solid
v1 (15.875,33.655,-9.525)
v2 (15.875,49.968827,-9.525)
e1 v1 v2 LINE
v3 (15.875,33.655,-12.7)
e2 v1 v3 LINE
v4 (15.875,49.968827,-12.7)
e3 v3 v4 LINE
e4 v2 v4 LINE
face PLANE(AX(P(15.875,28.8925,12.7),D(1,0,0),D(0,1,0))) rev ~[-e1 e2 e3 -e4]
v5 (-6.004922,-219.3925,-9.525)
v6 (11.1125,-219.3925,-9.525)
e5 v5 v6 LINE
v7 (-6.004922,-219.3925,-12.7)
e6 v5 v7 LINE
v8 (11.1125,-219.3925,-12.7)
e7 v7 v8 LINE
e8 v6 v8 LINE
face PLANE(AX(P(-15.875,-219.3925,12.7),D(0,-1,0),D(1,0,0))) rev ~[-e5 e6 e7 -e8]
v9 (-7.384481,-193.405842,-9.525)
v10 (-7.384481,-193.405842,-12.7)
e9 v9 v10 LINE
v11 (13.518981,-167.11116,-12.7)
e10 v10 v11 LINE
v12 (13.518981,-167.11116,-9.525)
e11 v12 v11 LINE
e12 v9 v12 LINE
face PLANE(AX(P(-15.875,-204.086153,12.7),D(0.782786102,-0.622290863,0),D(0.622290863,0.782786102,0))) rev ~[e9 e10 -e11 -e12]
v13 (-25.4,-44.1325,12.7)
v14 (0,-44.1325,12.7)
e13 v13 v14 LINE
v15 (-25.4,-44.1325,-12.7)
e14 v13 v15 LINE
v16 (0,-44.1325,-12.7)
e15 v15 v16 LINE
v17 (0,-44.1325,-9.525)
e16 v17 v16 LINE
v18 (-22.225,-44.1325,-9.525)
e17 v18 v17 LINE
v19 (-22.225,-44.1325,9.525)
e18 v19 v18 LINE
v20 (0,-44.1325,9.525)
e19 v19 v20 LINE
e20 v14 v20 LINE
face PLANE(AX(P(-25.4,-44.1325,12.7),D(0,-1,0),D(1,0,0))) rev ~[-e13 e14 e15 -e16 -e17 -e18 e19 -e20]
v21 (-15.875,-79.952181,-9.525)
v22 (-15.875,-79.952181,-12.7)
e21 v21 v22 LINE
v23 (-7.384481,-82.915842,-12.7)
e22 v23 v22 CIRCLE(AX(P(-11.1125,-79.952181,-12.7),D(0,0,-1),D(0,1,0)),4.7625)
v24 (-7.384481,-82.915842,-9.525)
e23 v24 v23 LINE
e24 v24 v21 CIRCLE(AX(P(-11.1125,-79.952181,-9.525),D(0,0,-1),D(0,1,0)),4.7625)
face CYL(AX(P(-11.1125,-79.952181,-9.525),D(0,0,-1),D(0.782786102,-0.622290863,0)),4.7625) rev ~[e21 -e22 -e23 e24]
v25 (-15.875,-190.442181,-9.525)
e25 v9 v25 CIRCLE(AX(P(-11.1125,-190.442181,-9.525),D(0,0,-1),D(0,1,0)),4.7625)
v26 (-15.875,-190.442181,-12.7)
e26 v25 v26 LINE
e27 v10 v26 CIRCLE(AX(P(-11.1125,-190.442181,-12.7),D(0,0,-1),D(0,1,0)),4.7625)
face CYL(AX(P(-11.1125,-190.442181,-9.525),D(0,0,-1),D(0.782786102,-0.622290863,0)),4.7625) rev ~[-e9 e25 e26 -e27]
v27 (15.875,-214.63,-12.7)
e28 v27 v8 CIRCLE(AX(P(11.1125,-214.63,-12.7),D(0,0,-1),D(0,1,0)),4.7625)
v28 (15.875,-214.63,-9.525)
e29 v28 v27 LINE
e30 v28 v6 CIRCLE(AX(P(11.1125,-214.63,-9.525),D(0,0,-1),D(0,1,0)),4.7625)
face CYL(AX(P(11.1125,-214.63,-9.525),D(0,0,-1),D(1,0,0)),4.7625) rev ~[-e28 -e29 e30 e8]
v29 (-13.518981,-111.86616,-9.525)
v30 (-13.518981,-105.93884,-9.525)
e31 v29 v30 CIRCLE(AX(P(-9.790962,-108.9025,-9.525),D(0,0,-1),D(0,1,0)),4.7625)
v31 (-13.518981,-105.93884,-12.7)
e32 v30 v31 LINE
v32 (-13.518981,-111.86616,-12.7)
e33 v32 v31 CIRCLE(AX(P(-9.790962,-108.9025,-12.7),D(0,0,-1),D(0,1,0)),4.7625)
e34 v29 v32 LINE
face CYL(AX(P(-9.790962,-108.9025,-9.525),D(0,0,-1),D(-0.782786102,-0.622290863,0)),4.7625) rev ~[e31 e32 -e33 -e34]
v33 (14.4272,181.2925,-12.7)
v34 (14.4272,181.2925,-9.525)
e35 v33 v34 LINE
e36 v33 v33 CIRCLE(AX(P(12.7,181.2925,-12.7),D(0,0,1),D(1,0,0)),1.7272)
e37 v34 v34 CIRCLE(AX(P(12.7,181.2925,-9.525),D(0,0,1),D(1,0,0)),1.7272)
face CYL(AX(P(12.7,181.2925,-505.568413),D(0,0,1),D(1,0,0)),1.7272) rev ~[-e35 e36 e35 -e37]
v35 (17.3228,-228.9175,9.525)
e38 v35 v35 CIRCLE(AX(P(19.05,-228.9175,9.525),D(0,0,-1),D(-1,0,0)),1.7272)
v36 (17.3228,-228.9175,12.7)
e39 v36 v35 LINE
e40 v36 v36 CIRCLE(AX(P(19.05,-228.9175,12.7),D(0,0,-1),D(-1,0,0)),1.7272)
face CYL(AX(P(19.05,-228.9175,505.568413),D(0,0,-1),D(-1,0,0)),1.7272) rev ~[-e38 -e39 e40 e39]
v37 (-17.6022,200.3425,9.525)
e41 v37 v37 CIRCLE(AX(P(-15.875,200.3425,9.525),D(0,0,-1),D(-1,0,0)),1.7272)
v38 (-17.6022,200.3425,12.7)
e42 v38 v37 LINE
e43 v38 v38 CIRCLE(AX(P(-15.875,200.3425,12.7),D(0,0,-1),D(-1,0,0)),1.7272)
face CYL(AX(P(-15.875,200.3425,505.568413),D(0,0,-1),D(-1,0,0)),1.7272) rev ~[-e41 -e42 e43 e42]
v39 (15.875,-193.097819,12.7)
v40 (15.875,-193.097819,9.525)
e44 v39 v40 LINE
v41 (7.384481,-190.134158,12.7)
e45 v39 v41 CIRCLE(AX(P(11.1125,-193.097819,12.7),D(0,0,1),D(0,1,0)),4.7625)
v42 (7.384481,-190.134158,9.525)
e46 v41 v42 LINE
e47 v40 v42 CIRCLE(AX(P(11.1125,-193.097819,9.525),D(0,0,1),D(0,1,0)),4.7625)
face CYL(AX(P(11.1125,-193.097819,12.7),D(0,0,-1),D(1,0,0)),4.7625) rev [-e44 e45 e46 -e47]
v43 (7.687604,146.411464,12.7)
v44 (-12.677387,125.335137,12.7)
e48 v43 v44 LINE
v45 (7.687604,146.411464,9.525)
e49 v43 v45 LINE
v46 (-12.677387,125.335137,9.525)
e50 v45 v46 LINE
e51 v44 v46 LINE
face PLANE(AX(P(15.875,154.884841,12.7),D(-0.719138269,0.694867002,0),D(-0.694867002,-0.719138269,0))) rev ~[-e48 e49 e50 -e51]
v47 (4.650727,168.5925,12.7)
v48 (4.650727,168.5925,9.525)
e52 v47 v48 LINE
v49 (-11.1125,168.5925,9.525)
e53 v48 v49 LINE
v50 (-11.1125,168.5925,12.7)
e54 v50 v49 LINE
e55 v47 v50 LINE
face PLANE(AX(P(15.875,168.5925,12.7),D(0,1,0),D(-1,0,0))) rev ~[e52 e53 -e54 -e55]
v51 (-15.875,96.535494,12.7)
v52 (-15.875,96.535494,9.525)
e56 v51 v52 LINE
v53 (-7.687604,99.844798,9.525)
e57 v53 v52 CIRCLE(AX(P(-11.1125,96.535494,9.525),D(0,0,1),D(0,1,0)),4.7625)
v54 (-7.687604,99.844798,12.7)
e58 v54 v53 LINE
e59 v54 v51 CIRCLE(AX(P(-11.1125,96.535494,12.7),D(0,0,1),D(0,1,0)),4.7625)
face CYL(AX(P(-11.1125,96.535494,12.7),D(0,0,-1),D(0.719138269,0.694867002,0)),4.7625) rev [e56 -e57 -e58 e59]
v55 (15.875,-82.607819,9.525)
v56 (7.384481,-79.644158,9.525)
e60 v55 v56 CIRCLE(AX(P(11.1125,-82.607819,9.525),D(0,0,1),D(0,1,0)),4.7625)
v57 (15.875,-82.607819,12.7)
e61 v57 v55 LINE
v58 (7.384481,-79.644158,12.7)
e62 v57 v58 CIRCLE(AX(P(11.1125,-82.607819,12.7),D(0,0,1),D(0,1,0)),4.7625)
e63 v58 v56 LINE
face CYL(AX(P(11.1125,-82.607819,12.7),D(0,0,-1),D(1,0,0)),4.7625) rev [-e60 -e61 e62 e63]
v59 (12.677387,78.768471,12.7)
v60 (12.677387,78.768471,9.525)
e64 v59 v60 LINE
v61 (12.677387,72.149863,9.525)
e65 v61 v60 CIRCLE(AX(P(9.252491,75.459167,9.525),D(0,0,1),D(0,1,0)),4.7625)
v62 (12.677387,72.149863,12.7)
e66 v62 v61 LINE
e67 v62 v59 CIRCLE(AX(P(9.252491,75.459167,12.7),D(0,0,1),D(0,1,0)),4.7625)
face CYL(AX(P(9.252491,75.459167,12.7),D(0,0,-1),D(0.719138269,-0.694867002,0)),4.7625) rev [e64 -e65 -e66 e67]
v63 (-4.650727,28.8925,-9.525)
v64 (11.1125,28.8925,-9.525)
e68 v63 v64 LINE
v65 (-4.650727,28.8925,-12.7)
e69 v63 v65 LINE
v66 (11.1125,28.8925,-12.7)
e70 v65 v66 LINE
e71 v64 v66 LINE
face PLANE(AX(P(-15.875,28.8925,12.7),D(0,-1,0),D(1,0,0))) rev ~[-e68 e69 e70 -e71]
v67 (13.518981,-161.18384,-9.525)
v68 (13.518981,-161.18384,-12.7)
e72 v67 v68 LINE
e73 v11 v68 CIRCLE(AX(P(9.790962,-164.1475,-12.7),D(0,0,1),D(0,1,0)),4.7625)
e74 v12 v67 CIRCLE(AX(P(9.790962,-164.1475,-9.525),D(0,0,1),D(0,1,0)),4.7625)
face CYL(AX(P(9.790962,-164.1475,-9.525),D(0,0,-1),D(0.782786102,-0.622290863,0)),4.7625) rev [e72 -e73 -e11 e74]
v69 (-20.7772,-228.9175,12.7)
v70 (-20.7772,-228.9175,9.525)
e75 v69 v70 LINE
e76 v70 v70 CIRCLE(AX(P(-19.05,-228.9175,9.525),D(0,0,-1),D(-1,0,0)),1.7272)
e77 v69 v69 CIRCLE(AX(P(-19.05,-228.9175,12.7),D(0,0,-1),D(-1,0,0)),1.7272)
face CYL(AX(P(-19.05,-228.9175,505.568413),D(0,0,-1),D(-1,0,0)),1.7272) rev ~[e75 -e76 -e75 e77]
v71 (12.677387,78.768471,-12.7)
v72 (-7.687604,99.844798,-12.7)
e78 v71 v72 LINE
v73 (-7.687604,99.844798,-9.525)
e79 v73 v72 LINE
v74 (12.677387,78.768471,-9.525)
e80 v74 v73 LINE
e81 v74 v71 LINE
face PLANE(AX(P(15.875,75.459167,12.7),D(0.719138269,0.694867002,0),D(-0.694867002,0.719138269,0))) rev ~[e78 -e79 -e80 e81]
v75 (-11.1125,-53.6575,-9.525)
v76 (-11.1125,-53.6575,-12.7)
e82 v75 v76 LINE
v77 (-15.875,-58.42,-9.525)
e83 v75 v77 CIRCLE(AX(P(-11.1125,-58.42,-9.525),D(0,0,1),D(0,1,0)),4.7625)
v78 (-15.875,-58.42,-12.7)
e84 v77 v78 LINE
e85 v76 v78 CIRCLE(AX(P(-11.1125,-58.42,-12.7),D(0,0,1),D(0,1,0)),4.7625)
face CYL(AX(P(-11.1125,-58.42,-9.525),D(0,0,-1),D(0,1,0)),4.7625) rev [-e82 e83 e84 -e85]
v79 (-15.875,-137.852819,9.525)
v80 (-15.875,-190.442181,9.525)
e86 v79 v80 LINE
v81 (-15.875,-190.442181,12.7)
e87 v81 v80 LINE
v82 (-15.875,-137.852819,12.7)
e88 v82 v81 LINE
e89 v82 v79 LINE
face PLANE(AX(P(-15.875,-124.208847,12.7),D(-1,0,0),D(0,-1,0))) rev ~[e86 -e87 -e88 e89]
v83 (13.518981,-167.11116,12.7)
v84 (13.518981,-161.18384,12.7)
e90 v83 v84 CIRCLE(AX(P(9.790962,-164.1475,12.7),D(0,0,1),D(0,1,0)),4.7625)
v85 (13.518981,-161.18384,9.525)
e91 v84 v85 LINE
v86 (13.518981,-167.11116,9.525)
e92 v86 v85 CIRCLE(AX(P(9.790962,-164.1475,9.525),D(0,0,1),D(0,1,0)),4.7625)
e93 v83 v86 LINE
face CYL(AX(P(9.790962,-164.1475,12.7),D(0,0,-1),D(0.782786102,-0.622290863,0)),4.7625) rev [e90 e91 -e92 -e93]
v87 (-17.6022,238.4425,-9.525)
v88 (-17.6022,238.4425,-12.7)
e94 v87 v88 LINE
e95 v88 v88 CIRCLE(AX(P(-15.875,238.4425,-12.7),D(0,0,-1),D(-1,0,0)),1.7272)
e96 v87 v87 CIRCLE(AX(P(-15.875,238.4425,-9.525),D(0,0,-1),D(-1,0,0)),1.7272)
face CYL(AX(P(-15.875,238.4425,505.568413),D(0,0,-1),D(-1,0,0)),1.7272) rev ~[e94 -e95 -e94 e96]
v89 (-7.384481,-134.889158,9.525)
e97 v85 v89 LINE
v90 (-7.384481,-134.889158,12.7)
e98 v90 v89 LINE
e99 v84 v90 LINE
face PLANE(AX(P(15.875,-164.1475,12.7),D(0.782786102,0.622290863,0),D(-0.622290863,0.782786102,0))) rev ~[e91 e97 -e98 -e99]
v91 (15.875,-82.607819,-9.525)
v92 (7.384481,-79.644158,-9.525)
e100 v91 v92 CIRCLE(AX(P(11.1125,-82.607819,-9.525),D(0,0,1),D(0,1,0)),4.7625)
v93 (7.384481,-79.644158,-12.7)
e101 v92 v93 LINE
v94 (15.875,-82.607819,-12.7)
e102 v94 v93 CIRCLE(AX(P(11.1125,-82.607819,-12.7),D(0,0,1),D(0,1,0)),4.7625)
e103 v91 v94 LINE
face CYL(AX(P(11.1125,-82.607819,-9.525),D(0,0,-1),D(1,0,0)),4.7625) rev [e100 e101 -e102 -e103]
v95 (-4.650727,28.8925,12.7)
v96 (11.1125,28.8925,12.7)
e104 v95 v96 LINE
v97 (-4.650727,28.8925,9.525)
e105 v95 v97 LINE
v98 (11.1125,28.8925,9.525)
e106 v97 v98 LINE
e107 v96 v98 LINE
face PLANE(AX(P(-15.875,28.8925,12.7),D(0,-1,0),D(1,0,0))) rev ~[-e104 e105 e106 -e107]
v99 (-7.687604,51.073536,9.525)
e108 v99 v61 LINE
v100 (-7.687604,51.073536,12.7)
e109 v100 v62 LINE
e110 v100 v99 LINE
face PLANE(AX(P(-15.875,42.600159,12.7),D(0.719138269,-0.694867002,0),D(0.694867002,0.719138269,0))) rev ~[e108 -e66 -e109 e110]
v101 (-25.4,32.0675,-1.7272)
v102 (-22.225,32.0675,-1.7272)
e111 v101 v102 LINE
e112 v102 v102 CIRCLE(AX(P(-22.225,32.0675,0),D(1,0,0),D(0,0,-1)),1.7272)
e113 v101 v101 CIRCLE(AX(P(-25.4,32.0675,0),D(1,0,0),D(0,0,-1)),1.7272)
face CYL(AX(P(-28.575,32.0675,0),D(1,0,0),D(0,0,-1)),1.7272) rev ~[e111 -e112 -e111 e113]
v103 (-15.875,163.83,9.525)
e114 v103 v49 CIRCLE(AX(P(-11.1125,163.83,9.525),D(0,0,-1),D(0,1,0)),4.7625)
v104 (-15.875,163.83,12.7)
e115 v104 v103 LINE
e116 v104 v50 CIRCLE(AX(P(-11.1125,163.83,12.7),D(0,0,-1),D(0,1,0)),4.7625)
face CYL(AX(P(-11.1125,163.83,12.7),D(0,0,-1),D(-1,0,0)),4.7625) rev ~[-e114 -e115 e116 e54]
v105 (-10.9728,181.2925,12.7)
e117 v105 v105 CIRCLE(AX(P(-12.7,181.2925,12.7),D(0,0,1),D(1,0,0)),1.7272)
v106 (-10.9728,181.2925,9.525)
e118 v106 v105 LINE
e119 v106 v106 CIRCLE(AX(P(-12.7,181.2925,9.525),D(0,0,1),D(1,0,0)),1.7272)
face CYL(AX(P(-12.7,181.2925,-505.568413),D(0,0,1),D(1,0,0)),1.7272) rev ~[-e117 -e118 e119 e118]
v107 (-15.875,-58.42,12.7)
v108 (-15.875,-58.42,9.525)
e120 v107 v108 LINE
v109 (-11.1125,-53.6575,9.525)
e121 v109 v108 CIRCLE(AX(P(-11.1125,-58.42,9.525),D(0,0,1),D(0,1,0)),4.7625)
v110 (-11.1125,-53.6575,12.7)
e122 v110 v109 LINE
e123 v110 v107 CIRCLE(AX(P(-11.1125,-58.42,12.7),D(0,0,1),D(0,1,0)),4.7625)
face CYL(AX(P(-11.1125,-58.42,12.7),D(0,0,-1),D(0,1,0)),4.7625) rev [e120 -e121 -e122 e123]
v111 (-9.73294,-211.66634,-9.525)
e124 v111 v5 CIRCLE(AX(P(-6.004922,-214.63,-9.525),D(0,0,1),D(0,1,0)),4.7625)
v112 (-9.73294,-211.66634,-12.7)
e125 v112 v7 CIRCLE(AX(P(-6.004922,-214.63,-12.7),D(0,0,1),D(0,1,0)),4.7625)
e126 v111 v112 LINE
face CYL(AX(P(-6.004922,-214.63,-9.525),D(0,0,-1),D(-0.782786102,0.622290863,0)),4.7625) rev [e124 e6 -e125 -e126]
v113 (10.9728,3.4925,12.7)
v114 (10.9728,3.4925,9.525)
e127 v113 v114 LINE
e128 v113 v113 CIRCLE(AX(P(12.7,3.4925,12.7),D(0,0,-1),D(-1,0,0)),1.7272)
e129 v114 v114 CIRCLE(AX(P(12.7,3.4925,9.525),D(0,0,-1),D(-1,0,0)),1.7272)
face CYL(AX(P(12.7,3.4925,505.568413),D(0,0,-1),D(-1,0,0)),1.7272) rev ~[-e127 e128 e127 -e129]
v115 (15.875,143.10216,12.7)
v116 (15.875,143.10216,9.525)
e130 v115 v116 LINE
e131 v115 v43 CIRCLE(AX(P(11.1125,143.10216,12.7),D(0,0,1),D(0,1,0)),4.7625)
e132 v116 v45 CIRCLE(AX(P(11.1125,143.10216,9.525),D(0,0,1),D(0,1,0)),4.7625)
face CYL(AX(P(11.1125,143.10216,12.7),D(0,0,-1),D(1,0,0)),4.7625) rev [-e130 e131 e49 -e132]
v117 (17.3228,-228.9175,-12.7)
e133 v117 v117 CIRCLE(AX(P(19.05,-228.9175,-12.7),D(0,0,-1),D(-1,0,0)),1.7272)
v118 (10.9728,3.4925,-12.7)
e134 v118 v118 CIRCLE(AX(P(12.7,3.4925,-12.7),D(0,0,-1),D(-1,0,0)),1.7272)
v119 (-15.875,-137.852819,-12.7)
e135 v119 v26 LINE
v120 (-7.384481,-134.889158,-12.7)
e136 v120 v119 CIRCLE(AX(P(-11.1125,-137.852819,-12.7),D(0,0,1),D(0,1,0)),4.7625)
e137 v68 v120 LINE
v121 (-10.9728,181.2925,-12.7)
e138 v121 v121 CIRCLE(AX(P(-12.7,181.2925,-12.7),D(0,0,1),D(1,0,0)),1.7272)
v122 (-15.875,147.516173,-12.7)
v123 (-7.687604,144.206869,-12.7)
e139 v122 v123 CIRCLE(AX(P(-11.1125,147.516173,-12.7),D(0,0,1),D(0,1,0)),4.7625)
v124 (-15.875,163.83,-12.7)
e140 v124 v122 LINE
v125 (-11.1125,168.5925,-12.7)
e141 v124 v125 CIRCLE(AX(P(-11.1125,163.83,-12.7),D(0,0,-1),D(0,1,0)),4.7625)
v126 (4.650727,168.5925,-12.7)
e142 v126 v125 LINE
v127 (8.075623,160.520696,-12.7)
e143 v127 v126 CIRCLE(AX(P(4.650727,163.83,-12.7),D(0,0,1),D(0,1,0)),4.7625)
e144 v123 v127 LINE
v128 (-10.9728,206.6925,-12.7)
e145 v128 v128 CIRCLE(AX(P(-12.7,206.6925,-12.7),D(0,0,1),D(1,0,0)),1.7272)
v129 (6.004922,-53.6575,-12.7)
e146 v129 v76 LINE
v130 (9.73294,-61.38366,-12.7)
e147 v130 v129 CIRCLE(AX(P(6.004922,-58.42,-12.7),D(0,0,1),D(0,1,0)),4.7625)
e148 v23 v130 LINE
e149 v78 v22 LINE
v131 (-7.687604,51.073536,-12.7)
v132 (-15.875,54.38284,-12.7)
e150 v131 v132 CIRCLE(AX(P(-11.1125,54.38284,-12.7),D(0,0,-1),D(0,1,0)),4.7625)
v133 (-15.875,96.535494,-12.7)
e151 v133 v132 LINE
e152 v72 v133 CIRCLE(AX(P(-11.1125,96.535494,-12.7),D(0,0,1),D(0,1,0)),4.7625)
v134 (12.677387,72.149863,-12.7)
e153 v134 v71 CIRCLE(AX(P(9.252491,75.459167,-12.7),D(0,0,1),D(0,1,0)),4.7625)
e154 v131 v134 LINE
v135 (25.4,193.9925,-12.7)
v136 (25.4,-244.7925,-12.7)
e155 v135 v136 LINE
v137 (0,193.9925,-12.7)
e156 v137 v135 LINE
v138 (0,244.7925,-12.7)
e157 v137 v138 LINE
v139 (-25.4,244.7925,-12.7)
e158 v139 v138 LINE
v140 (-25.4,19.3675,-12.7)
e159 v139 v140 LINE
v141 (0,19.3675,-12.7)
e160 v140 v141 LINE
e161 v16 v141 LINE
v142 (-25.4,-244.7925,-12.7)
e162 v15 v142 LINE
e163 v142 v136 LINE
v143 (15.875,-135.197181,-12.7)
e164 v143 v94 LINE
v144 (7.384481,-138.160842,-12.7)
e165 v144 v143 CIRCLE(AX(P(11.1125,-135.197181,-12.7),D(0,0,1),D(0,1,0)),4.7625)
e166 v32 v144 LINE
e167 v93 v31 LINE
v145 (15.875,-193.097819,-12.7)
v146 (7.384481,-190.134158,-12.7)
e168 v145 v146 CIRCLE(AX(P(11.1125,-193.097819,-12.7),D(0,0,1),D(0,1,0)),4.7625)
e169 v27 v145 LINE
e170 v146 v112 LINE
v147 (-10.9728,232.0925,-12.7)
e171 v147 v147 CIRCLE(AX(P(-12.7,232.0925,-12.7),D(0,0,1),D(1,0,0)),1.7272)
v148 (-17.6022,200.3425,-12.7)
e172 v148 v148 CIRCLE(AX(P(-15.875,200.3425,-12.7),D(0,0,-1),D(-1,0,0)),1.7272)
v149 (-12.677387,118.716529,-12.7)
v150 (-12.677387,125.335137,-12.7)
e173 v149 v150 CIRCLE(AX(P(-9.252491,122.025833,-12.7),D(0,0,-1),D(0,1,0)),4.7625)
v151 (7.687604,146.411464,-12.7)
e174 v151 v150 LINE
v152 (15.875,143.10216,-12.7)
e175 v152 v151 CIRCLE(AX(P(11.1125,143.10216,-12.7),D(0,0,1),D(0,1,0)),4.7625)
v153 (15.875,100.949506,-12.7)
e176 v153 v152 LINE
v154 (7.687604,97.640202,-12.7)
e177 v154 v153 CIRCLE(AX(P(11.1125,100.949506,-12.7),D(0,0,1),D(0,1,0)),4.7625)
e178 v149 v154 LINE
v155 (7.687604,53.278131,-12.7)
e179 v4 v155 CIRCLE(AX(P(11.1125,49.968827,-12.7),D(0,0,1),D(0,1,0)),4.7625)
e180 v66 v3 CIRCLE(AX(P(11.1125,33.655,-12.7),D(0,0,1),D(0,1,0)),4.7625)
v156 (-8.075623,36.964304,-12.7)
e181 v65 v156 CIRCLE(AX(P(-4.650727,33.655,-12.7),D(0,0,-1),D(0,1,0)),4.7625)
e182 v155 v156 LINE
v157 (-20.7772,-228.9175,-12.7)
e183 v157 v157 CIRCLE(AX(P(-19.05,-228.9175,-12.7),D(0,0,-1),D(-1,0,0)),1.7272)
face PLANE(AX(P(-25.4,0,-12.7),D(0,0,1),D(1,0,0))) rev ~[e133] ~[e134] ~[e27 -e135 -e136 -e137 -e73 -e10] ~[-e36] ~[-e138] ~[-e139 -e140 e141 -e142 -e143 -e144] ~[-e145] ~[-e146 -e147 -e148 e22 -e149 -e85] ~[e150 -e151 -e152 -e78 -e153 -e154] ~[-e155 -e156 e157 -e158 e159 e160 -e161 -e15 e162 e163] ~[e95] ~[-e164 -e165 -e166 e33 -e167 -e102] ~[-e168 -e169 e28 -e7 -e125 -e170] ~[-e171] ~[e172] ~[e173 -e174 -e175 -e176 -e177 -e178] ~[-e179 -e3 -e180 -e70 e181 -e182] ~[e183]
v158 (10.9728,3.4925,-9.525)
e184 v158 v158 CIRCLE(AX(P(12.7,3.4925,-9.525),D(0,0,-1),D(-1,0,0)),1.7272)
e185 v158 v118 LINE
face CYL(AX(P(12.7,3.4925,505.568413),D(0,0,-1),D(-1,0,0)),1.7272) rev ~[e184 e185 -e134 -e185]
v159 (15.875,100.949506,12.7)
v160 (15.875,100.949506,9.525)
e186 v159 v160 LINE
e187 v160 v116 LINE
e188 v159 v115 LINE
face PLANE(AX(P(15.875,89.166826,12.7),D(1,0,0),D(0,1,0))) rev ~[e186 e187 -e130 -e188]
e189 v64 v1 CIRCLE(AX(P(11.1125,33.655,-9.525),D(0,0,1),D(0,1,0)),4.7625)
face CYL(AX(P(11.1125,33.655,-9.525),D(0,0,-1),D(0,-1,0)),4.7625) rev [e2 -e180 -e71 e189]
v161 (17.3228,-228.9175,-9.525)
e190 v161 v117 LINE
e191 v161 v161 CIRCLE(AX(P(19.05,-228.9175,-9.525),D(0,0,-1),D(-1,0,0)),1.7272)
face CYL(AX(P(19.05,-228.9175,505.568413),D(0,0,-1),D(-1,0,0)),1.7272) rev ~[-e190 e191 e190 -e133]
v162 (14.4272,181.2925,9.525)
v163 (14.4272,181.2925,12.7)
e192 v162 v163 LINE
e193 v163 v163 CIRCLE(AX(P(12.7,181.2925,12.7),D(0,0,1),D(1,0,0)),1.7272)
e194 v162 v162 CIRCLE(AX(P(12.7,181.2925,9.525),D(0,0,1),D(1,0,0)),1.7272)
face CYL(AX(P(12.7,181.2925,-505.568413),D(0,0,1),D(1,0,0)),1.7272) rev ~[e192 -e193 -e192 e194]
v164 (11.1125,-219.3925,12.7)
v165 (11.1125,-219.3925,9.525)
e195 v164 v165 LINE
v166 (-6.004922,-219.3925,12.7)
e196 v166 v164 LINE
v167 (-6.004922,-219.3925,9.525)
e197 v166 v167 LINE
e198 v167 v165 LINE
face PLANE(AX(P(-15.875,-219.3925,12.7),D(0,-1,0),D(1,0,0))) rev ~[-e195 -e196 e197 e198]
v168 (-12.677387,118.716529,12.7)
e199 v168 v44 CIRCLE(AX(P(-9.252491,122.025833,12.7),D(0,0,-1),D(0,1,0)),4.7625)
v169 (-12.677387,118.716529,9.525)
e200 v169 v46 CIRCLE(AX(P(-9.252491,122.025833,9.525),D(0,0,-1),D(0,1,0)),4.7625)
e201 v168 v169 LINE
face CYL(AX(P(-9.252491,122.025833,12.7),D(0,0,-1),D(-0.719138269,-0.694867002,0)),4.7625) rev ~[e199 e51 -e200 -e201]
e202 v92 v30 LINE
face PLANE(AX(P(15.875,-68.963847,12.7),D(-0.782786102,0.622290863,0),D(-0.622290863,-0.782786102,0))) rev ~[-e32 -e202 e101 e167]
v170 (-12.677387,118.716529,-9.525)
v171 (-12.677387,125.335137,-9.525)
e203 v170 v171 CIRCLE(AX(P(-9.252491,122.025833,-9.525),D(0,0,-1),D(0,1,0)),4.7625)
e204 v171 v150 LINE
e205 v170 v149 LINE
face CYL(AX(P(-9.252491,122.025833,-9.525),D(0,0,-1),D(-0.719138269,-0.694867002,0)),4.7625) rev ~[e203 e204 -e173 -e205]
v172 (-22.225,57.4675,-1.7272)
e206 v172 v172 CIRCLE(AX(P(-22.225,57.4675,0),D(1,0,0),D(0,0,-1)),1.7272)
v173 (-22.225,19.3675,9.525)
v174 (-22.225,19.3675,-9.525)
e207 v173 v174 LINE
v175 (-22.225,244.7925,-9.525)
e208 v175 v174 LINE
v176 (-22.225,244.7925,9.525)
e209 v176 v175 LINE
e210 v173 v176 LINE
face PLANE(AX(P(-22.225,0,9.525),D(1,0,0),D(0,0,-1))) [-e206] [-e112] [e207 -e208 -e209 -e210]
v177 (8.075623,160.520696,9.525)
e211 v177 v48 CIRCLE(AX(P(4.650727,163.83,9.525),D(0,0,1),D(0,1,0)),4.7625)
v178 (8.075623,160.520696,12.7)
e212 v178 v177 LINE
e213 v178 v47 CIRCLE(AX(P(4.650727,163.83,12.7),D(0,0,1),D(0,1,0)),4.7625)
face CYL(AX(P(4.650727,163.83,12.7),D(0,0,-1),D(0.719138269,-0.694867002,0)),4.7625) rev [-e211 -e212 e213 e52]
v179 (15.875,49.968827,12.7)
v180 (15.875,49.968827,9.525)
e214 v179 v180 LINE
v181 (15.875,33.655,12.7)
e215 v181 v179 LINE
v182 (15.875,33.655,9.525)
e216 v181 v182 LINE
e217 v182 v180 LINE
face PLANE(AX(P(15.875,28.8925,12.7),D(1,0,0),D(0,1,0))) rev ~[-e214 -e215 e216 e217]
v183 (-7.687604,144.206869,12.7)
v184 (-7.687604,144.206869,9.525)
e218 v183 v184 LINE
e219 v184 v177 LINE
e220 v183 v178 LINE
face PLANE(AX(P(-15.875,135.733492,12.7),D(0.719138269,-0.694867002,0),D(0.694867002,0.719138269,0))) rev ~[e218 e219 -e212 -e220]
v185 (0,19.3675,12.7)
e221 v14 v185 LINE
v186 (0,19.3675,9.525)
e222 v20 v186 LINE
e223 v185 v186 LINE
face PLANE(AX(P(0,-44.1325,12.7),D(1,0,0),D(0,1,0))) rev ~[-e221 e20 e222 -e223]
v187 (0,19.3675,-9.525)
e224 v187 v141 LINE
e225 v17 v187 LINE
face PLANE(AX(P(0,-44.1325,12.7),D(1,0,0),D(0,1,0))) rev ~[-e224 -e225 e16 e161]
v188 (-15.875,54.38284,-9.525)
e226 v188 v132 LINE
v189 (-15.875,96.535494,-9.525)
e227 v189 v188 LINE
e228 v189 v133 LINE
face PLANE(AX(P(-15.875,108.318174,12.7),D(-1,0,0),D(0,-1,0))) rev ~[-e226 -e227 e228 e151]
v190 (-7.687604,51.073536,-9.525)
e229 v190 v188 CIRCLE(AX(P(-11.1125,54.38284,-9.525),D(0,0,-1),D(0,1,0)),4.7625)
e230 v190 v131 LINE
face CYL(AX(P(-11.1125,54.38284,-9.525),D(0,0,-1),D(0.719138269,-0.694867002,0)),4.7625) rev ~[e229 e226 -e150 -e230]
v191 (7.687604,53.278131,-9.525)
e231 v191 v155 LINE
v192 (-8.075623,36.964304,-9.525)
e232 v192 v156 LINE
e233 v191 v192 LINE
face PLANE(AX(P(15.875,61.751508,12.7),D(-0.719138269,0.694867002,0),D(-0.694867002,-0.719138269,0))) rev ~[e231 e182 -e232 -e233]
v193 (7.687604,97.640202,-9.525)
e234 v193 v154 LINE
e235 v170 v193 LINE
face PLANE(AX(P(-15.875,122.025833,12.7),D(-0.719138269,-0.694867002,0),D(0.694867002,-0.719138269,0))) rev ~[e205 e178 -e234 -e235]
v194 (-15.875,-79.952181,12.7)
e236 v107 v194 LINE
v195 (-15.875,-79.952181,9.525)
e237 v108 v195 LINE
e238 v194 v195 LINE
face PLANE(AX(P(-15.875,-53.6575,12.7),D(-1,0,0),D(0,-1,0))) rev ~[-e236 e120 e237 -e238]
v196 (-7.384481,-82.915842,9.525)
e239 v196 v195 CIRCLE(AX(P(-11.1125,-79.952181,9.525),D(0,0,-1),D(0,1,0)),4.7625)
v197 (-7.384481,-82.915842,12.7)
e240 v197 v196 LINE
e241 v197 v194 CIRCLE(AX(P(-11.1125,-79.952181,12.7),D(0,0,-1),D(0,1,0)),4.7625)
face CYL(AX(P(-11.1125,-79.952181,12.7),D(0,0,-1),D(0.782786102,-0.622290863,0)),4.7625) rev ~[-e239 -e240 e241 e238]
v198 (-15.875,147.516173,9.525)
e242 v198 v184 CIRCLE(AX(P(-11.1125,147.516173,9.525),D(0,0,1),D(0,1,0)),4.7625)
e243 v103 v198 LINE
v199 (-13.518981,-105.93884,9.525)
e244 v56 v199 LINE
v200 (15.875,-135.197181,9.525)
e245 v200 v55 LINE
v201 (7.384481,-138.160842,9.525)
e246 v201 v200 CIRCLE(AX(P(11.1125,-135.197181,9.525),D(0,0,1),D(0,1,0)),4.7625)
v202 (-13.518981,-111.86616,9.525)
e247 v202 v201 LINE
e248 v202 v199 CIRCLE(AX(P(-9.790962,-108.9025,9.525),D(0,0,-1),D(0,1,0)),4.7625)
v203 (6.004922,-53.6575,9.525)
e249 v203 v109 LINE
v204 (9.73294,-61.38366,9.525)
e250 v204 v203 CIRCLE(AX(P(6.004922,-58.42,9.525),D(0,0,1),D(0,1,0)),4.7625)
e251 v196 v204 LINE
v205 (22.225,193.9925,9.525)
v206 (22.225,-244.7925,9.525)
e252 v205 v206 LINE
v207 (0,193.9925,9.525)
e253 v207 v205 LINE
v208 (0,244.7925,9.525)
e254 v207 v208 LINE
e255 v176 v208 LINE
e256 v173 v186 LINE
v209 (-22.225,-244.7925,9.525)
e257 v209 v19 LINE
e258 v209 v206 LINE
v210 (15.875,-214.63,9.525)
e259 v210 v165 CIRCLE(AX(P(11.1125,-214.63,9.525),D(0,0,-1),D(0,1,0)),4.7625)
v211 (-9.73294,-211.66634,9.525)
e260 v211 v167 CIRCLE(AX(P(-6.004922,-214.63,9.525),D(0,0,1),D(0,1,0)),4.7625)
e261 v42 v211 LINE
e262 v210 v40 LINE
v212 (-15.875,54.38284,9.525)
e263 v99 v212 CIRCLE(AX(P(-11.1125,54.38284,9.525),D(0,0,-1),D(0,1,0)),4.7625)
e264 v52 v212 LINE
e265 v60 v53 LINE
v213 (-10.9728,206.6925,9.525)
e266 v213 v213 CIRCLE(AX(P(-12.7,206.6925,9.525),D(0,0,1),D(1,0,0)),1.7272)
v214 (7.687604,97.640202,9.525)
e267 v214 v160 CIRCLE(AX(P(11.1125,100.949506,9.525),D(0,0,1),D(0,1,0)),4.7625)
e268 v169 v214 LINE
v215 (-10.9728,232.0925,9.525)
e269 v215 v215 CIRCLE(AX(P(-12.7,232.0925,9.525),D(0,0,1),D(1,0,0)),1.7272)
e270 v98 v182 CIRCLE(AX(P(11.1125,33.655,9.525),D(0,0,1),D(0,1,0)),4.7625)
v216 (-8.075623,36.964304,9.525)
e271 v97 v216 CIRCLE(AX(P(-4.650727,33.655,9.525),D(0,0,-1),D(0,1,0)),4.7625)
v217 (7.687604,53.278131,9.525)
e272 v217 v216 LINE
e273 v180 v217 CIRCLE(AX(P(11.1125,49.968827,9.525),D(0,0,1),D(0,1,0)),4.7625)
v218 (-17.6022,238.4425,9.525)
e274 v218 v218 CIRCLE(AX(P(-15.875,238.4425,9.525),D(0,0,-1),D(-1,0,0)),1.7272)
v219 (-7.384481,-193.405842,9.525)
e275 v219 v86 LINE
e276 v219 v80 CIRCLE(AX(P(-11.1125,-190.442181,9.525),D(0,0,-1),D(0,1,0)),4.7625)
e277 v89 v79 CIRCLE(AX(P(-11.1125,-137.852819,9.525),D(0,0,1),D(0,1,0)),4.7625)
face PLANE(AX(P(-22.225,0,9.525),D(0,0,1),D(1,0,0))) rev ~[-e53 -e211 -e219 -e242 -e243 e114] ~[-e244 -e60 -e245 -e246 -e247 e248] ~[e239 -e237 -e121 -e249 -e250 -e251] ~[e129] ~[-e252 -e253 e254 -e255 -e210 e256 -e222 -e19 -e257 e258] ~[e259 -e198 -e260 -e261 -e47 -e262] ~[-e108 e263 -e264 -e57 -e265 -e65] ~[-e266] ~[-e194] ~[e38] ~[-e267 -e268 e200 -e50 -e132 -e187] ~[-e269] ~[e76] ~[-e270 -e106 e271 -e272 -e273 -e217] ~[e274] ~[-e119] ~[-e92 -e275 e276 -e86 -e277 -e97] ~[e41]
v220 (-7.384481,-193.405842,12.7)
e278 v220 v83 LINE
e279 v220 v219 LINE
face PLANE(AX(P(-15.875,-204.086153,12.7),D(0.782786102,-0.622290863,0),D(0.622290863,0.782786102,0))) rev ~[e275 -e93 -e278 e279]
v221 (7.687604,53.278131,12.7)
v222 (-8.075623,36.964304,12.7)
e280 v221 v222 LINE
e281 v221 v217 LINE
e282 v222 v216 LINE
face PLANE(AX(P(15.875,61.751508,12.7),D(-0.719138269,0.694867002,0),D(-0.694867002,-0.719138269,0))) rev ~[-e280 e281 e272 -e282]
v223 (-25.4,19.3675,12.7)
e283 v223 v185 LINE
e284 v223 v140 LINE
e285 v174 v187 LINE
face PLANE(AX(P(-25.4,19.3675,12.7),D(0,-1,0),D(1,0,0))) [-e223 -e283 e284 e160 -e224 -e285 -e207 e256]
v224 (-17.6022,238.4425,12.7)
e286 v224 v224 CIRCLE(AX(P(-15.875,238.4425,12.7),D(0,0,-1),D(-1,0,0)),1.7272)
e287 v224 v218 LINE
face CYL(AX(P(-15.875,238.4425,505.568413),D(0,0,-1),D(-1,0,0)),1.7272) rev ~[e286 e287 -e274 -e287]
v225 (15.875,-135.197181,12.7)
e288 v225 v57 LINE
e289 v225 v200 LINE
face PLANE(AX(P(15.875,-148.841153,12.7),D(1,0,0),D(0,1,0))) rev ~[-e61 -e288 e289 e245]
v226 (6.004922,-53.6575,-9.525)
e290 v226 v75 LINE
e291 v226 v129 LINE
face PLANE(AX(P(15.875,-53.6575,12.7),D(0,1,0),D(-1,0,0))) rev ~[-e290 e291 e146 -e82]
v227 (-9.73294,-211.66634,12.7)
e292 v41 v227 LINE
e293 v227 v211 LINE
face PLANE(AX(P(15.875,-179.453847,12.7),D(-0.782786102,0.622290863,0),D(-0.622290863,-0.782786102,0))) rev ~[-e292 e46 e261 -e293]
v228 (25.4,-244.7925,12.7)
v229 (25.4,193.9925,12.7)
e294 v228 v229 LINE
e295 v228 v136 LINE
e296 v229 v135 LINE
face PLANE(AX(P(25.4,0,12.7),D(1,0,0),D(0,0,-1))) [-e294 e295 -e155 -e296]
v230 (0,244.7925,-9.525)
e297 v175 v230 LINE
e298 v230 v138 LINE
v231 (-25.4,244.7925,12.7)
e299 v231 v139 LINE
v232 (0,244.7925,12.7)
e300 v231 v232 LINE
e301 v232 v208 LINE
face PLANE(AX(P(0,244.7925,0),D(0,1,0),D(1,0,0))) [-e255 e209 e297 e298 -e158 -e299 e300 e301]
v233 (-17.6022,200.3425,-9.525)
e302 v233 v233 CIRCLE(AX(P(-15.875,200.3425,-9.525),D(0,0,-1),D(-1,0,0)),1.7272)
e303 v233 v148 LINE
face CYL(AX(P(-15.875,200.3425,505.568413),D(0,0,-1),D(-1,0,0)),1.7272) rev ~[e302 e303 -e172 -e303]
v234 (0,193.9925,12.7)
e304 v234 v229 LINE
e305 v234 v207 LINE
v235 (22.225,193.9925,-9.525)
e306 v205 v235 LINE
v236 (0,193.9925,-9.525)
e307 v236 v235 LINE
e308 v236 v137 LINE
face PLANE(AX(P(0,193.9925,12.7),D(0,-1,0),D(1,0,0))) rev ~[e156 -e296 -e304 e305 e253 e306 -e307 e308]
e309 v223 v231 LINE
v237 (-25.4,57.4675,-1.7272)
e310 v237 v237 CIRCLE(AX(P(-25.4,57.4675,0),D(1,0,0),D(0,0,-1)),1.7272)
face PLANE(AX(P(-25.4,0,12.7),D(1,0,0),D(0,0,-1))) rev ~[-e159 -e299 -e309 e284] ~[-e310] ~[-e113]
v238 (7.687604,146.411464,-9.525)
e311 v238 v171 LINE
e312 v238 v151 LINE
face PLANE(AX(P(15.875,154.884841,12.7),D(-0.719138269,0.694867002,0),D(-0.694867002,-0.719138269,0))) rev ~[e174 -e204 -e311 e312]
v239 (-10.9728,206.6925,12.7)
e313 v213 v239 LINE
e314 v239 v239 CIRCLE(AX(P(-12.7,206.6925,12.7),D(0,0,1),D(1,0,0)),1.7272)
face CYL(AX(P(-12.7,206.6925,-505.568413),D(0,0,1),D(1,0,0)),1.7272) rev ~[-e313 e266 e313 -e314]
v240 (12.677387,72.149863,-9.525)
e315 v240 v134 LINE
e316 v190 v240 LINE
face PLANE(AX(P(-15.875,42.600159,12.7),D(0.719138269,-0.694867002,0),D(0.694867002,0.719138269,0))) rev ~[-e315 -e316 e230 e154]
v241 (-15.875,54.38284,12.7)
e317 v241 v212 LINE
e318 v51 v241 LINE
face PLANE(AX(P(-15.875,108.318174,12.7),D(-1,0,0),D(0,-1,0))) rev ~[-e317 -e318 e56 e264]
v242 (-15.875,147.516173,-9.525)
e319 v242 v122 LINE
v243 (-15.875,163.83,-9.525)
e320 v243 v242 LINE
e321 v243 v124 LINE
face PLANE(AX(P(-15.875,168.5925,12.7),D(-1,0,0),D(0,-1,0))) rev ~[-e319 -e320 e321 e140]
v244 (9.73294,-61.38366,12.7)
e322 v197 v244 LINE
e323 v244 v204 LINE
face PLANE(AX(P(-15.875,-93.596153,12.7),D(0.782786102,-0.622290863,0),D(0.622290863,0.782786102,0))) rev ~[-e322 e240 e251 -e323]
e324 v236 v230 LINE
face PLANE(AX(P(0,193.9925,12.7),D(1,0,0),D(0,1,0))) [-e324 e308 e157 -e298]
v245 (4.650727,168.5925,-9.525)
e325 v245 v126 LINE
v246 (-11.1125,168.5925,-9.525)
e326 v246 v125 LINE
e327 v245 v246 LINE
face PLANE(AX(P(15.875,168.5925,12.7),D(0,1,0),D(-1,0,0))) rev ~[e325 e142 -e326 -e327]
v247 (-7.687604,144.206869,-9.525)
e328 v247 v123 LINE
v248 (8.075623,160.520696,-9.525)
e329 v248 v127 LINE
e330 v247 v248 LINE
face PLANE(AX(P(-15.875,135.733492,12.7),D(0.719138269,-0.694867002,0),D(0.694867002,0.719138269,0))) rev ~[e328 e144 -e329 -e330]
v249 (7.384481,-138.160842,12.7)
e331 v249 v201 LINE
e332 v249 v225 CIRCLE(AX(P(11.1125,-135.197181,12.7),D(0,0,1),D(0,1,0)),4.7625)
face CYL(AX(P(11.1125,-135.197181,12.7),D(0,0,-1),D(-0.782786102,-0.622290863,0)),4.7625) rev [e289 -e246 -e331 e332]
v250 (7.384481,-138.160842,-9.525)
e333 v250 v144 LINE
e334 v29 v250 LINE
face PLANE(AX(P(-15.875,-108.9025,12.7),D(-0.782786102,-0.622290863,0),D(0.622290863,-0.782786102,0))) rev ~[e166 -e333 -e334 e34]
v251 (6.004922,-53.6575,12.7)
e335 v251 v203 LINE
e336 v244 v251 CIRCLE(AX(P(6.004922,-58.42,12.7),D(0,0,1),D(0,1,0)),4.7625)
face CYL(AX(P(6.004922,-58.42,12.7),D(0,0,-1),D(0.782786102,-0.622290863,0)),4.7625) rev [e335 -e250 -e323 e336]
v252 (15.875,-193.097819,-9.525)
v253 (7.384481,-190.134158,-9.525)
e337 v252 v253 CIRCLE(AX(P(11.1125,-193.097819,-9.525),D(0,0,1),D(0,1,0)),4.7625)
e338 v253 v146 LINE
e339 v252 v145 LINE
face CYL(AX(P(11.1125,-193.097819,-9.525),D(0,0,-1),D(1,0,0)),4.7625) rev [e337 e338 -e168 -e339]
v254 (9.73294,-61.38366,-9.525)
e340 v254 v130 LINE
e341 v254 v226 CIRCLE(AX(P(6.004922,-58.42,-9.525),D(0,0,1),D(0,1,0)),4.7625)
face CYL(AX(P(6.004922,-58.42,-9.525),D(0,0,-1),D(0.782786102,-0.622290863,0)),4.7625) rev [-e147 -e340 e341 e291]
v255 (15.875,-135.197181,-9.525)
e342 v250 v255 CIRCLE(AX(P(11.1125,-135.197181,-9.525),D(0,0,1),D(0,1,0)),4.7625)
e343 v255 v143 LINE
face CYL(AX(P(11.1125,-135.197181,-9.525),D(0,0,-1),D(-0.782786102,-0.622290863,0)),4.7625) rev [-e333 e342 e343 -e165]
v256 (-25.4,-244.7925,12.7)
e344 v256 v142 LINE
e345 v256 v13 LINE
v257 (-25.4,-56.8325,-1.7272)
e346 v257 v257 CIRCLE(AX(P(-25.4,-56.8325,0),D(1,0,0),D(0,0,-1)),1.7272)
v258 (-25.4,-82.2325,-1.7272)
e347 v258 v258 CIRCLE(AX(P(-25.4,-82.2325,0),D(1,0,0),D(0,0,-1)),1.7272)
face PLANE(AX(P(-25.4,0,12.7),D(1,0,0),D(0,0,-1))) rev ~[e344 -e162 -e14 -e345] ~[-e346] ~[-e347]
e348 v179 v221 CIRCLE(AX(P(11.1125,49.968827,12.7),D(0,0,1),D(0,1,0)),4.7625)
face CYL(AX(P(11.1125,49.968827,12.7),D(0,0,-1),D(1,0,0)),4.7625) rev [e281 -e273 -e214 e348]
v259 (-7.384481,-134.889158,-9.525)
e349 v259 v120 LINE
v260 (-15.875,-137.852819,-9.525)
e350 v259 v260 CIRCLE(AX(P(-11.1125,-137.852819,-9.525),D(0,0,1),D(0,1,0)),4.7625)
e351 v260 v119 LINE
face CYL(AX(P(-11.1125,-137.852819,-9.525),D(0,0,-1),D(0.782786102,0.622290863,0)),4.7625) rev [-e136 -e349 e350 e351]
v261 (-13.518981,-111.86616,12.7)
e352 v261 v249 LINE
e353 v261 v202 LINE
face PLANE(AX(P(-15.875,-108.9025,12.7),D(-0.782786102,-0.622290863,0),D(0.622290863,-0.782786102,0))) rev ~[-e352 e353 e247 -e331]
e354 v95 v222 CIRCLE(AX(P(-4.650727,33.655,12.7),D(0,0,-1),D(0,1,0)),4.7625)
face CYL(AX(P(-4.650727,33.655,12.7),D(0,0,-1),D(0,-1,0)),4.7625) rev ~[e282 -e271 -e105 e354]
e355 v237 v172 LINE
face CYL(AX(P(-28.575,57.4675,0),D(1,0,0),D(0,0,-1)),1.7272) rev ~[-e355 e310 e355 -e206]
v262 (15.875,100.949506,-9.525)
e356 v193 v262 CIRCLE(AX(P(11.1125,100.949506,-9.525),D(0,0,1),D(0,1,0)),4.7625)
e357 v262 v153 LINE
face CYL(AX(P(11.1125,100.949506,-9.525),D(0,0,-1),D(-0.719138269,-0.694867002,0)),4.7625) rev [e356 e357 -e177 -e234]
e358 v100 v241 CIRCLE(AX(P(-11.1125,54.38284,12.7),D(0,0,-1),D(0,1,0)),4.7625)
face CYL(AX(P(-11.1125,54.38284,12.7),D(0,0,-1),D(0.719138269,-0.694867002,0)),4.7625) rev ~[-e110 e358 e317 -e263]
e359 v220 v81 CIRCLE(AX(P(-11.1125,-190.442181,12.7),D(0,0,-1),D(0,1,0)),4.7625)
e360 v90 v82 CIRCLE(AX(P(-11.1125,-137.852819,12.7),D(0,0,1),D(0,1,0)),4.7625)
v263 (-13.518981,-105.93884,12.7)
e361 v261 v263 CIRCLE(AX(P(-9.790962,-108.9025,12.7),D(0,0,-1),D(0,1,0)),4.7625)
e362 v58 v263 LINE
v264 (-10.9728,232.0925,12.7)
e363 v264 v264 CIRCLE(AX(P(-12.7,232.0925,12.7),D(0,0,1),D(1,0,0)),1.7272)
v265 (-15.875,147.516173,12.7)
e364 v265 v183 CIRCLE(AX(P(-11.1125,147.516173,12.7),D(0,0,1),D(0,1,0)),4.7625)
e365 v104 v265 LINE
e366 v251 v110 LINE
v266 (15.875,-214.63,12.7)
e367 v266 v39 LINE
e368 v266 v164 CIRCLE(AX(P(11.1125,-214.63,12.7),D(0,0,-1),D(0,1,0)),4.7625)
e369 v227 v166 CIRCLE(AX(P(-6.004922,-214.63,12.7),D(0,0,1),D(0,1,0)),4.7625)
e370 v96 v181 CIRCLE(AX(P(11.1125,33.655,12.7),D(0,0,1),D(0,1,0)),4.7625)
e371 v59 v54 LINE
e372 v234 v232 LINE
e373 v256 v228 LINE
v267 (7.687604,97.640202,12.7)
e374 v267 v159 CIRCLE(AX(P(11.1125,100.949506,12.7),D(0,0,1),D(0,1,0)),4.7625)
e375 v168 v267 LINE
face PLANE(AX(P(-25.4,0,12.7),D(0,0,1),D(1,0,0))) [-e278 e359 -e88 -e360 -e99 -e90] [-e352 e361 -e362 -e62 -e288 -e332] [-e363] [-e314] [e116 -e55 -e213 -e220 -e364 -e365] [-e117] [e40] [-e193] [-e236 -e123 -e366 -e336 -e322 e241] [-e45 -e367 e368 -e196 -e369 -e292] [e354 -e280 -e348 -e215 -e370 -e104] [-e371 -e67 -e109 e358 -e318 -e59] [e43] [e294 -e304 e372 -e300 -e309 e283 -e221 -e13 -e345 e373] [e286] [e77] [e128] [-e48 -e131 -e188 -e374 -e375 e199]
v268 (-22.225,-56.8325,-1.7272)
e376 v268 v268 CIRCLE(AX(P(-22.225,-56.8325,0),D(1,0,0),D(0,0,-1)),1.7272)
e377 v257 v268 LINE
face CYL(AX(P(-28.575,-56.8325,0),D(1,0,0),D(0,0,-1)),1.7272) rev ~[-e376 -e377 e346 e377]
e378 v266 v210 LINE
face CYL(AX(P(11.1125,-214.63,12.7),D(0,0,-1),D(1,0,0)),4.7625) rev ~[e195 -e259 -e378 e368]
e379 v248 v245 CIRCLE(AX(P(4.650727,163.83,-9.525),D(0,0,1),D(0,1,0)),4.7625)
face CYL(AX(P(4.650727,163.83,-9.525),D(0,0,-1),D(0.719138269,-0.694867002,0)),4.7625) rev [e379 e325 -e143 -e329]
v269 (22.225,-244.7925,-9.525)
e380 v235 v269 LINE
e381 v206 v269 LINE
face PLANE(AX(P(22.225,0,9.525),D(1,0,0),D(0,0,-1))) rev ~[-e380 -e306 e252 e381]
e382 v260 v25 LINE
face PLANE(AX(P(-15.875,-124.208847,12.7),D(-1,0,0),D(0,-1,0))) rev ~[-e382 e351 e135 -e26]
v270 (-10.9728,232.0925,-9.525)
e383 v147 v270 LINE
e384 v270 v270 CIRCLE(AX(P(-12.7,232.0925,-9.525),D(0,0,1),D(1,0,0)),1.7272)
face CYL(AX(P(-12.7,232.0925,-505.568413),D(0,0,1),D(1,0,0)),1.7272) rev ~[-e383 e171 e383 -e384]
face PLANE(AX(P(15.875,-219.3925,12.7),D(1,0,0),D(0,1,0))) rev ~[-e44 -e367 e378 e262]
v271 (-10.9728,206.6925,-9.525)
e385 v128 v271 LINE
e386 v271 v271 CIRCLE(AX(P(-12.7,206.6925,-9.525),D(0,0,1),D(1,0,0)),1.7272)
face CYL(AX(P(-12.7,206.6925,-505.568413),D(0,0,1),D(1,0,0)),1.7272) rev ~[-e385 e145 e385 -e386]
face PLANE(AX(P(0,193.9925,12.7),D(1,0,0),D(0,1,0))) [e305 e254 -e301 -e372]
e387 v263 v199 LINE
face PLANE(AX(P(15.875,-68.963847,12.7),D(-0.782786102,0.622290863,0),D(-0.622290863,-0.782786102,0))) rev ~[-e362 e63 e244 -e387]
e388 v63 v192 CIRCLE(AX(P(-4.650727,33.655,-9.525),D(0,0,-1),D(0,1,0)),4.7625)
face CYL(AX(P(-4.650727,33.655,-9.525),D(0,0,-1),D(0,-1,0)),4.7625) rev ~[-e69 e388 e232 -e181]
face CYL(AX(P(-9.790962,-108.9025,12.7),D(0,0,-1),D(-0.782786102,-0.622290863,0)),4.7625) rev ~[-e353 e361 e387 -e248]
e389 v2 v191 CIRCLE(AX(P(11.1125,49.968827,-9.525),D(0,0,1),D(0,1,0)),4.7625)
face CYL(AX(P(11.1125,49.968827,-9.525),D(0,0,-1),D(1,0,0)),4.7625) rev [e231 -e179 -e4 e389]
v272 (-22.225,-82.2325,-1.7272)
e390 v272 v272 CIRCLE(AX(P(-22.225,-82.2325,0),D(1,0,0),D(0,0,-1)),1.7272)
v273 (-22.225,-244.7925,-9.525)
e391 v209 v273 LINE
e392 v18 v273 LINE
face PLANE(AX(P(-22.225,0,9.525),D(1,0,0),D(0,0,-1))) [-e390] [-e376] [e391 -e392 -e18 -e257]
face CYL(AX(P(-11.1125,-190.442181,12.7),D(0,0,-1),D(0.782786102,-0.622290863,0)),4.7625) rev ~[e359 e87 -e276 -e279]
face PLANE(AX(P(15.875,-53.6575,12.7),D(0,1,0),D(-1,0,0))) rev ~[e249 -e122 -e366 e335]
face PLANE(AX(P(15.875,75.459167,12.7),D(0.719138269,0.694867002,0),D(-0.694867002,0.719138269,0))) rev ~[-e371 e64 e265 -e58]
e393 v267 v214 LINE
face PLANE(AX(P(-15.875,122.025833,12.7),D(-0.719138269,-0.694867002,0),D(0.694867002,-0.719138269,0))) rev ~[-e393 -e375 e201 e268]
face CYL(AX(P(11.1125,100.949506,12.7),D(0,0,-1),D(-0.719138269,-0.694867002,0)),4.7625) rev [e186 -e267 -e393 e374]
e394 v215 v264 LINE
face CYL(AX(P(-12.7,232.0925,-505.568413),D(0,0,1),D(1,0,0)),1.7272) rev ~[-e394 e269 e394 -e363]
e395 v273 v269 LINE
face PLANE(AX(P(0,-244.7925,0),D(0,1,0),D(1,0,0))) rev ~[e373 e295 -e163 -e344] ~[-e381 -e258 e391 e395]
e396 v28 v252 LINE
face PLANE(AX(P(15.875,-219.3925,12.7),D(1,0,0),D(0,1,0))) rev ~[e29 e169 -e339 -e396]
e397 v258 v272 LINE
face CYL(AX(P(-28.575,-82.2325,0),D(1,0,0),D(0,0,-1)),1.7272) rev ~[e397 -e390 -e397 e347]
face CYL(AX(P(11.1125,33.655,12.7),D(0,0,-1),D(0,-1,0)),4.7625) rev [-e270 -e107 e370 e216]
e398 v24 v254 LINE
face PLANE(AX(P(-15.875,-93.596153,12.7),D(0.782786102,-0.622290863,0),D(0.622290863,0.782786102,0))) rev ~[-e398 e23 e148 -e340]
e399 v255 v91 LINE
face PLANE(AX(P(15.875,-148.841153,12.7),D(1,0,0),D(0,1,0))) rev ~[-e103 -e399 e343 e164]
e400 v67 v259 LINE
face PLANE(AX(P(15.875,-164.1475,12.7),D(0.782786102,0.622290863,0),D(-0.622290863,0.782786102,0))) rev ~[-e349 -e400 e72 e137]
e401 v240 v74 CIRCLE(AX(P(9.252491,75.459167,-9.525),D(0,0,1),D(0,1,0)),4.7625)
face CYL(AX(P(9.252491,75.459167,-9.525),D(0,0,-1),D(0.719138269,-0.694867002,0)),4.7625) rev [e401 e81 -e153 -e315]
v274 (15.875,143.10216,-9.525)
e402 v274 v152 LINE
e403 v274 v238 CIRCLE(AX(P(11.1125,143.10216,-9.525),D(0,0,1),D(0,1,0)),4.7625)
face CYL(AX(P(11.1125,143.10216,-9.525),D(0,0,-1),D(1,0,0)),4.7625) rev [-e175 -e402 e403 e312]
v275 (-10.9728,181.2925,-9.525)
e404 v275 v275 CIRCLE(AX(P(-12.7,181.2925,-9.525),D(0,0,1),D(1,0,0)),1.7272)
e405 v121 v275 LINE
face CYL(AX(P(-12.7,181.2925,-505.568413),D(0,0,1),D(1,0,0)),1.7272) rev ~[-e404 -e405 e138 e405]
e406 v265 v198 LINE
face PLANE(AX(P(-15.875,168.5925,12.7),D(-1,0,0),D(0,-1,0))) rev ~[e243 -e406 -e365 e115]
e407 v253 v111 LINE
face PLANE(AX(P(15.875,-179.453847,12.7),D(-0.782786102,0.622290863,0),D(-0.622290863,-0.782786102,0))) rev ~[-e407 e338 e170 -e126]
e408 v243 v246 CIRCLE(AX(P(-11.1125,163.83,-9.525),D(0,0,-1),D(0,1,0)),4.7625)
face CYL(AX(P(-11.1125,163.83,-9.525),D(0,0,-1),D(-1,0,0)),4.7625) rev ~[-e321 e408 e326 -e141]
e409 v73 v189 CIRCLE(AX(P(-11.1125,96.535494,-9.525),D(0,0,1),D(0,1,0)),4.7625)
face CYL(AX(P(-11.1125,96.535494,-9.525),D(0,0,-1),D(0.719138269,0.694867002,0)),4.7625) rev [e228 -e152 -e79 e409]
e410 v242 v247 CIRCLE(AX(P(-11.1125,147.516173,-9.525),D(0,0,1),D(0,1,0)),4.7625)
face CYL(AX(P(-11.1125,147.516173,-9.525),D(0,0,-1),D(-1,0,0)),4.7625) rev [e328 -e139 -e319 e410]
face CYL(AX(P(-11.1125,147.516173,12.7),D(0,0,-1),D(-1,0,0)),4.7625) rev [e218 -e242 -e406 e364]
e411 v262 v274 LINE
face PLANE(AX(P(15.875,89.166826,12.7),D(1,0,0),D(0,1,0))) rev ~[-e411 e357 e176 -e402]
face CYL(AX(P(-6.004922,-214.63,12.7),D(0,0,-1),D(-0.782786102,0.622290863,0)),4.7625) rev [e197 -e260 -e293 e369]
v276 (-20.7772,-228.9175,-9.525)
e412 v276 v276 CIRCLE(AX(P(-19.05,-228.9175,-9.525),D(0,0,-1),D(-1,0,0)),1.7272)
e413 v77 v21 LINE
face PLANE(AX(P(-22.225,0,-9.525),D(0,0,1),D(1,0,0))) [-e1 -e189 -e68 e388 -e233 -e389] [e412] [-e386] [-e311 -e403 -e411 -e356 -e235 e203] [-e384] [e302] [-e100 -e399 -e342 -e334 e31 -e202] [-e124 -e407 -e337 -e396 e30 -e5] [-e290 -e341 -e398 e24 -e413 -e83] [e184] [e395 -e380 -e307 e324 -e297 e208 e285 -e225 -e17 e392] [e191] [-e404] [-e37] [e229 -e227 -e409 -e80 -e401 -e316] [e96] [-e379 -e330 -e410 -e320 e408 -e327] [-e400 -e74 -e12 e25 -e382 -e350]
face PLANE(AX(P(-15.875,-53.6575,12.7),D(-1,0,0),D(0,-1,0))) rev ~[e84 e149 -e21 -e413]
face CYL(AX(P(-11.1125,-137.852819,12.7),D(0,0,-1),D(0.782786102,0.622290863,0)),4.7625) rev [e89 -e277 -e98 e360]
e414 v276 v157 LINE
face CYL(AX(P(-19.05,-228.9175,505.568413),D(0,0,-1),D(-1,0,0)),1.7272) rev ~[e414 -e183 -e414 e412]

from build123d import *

# Parameters (mm, degrees)
SKETCH1_W                 = 50.8
SKETCH1_H                 = 25.4
SKETCH1_W_2               = 44.45
SKETCH1_H_2               = 19.05
BOSS_EXTRUDE1_DEPTH       = 244.7925
SKETCH2_W                 = 25.4
SKETCH2_H                 = 50.8
CUT_EXTRUDE1_DEPTH        = 248.414001334
SKETCH3_W                 = 25.4
SKETCH3_H                 = 63.5
CUT_EXTRUDE2_DEPTH        = 248.414001334
F_8_32_TAPPED_HOLE1_D     = 3.4544
F_8_32_TAPPED_HOLE2_D     = 3.4544
CUT_EXTRUDE3_DEPTH        = 248.414001334
FILLET1_R                 = 4.7625
F_8_32_TAPPED_HOLE3_D     = 3.4544
F_8_32_TAPPED_HOLE4_D     = 3.4544
F_8_32_TAPPED_HOLE4_DEPTH = 3.175
F_8_32_TAPPED_HOLE5_D     = 3.4544


with BuildPart() as part:
    # Sketch1 → Boss-Extrude1 (new, symmetric)
    with BuildSketch(Plane(origin=(0, 0, 0), x_dir=(1, 0, 0), z_dir=(0, 1, 0))):
        Rectangle(SKETCH1_W, SKETCH1_H)
        Rectangle(SKETCH1_W_2, SKETCH1_H_2, mode=Mode.SUBTRACT)
    extrude(amount=BOSS_EXTRUDE1_DEPTH, both=True)

    # Sketch2 → Cut-Extrude1 (cut, through all)
    with BuildSketch(Plane.XY.offset(12.7)):
        with Locations((12.7, 219.3925)):
            Rectangle(SKETCH2_W, SKETCH2_H)
    extrude(amount=-CUT_EXTRUDE1_DEPTH, mode=Mode.SUBTRACT)

    # Sketch3 → Cut-Extrude2 (cut, through all)
    with BuildSketch(Plane.XY.offset(12.7)):
        with Locations((-12.7, -12.3825)):
            Rectangle(SKETCH3_W, SKETCH3_H)
    extrude(amount=-CUT_EXTRUDE2_DEPTH, mode=Mode.SUBTRACT)

    # #8-32 Tapped Hole1 (through all)
    with Locations(Plane(origin=(0, 0, -12.7), x_dir=(-1, 0, 0), z_dir=(0, 0, -1))):
        with Locations((12.7, 232.0925), (12.7, 206.6925), (12.7, 181.2925), (-12.7, 181.2925)):
            Hole(F_8_32_TAPPED_HOLE1_D / 2)

    # #8-32 Tapped Hole2 (through all)
    with Locations(Plane.XY.offset(12.7)):
        with Locations((-15.875, 238.4425), (-15.875, 200.3425)):
            Hole(F_8_32_TAPPED_HOLE2_D / 2)

    # Sketch8 → Cut-Extrude3 (cut, through all)
    with BuildSketch(Plane.XY.offset(12.7)):
        Polygon((15.875, -219.3925), (15.875, -179.453847181), (-15.875, -219.3925), align=None)
        Polygon((-15.875, -204.086152819), (15.875, -164.1475), (-15.875, -124.208847181), align=None)
        Polygon((-15.875, -108.9025), (15.875, -148.841152819), (15.875, -68.963847181), align=None)
        Polygon((-15.875, -93.596152819), (15.875, -53.6575), (-15.875, -53.6575), align=None)
        Polygon((-15.875, 28.8925), (15.875, 28.8925), (15.875, 61.751507535), align=None)
        Polygon((-15.875, 42.600159131), (15.875, 75.459166667), (-15.875, 108.318174202), align=None)
        Polygon((-15.875, 122.025833333), (15.875, 89.166825798), (15.875, 154.884840869), align=None)
        Polygon((-15.875, 168.5925), (-15.875, 135.733492465), (15.875, 168.5925), align=None)
    extrude(amount=-CUT_EXTRUDE3_DEPTH, mode=Mode.SUBTRACT)

    # Fillet1
    fillet1_edges = [part.edges().sort_by_distance(p)[0] for p in [
        (-15.875, -204.086152819, -11.1125),
        (-15.875, -124.208847181, -11.1125),
        (15.875, -164.1475, -11.1125),
        (-15.875, -204.086152819, 11.1125),
        (-15.875, -124.208847181, 11.1125),
        (15.875, -164.1475, 11.1125),
        (15.875, -148.841152819, -11.1125),
        (-15.875, -108.9025, -11.1125),
        (15.875, -68.963847181, -11.1125),
        (15.875, -148.841152819, 11.1125),
        (-15.875, -108.9025, 11.1125),
        (15.875, -68.963847181, 11.1125),
        (-15.875, -93.596152819, -11.1125),
        (-15.875, -53.6575, -11.1125),
        (15.875, -53.6575, -11.1125),
        (-15.875, -93.596152819, 11.1125),
        (-15.875, -53.6575, 11.1125),
        (15.875, -53.6575, 11.1125),
        (15.875, 61.751507535, -11.1125),
        (15.875, 28.8925, -11.1125),
        (-15.875, 28.8925, -11.1125),
        (15.875, 61.751507535, 11.1125),
        (15.875, 28.8925, 11.1125),
        (-15.875, 28.8925, 11.1125),
        (-15.875, 42.600159131, -11.1125),
        (-15.875, 108.318174202, -11.1125),
        (15.875, 75.459166667, -11.1125),
        (-15.875, 42.600159131, 11.1125),
        (-15.875, 108.318174202, 11.1125),
        (15.875, 75.459166667, 11.1125),
        (15.875, 89.166825798, -11.1125),
        (-15.875, 122.025833333, -11.1125),
        (15.875, 154.884840869, -11.1125),
        (15.875, 89.166825798, 11.1125),
        (-15.875, 122.025833333, 11.1125),
        (15.875, 154.884840869, 11.1125),
        (-15.875, 135.733492465, -11.1125),
        (-15.875, 168.5925, -11.1125),
        (15.875, 168.5925, -11.1125),
        (-15.875, 135.733492465, 11.1125),
        (-15.875, 168.5925, 11.1125),
        (15.875, 168.5925, 11.1125),
        (-15.875, -219.3925, -11.1125),
        (15.875, -179.453847181, -11.1125),
        (15.875, -219.3925, -11.1125),
        (-15.875, -219.3925, 11.1125),
        (15.875, -179.453847181, 11.1125),
        (15.875, -219.3925, 11.1125),
    ]]
    fillet(fillet1_edges, radius=FILLET1_R)

    # #8-32 Tapped Hole3 (through all)
    with Locations(Plane.XY.offset(12.7)):
        with Locations((12.7, 3.4925)):
            Hole(F_8_32_TAPPED_HOLE3_D / 2)

    # #8-32 Tapped Hole4
    with Locations(Plane.ZY.offset(25.4)):
        with Locations((0, 32.0675), (0, 57.4675), (0, -56.8325), (0, -82.2325)):
            Hole(F_8_32_TAPPED_HOLE4_D / 2, depth=F_8_32_TAPPED_HOLE4_DEPTH)

    # #8-32 Tapped Hole5 (through all)
    with Locations(Plane.XY.offset(12.7)):
        with Locations((-19.05, -228.9175), (19.05, -228.9175)):
            Hole(F_8_32_TAPPED_HOLE5_D / 2)


solid = part.part
